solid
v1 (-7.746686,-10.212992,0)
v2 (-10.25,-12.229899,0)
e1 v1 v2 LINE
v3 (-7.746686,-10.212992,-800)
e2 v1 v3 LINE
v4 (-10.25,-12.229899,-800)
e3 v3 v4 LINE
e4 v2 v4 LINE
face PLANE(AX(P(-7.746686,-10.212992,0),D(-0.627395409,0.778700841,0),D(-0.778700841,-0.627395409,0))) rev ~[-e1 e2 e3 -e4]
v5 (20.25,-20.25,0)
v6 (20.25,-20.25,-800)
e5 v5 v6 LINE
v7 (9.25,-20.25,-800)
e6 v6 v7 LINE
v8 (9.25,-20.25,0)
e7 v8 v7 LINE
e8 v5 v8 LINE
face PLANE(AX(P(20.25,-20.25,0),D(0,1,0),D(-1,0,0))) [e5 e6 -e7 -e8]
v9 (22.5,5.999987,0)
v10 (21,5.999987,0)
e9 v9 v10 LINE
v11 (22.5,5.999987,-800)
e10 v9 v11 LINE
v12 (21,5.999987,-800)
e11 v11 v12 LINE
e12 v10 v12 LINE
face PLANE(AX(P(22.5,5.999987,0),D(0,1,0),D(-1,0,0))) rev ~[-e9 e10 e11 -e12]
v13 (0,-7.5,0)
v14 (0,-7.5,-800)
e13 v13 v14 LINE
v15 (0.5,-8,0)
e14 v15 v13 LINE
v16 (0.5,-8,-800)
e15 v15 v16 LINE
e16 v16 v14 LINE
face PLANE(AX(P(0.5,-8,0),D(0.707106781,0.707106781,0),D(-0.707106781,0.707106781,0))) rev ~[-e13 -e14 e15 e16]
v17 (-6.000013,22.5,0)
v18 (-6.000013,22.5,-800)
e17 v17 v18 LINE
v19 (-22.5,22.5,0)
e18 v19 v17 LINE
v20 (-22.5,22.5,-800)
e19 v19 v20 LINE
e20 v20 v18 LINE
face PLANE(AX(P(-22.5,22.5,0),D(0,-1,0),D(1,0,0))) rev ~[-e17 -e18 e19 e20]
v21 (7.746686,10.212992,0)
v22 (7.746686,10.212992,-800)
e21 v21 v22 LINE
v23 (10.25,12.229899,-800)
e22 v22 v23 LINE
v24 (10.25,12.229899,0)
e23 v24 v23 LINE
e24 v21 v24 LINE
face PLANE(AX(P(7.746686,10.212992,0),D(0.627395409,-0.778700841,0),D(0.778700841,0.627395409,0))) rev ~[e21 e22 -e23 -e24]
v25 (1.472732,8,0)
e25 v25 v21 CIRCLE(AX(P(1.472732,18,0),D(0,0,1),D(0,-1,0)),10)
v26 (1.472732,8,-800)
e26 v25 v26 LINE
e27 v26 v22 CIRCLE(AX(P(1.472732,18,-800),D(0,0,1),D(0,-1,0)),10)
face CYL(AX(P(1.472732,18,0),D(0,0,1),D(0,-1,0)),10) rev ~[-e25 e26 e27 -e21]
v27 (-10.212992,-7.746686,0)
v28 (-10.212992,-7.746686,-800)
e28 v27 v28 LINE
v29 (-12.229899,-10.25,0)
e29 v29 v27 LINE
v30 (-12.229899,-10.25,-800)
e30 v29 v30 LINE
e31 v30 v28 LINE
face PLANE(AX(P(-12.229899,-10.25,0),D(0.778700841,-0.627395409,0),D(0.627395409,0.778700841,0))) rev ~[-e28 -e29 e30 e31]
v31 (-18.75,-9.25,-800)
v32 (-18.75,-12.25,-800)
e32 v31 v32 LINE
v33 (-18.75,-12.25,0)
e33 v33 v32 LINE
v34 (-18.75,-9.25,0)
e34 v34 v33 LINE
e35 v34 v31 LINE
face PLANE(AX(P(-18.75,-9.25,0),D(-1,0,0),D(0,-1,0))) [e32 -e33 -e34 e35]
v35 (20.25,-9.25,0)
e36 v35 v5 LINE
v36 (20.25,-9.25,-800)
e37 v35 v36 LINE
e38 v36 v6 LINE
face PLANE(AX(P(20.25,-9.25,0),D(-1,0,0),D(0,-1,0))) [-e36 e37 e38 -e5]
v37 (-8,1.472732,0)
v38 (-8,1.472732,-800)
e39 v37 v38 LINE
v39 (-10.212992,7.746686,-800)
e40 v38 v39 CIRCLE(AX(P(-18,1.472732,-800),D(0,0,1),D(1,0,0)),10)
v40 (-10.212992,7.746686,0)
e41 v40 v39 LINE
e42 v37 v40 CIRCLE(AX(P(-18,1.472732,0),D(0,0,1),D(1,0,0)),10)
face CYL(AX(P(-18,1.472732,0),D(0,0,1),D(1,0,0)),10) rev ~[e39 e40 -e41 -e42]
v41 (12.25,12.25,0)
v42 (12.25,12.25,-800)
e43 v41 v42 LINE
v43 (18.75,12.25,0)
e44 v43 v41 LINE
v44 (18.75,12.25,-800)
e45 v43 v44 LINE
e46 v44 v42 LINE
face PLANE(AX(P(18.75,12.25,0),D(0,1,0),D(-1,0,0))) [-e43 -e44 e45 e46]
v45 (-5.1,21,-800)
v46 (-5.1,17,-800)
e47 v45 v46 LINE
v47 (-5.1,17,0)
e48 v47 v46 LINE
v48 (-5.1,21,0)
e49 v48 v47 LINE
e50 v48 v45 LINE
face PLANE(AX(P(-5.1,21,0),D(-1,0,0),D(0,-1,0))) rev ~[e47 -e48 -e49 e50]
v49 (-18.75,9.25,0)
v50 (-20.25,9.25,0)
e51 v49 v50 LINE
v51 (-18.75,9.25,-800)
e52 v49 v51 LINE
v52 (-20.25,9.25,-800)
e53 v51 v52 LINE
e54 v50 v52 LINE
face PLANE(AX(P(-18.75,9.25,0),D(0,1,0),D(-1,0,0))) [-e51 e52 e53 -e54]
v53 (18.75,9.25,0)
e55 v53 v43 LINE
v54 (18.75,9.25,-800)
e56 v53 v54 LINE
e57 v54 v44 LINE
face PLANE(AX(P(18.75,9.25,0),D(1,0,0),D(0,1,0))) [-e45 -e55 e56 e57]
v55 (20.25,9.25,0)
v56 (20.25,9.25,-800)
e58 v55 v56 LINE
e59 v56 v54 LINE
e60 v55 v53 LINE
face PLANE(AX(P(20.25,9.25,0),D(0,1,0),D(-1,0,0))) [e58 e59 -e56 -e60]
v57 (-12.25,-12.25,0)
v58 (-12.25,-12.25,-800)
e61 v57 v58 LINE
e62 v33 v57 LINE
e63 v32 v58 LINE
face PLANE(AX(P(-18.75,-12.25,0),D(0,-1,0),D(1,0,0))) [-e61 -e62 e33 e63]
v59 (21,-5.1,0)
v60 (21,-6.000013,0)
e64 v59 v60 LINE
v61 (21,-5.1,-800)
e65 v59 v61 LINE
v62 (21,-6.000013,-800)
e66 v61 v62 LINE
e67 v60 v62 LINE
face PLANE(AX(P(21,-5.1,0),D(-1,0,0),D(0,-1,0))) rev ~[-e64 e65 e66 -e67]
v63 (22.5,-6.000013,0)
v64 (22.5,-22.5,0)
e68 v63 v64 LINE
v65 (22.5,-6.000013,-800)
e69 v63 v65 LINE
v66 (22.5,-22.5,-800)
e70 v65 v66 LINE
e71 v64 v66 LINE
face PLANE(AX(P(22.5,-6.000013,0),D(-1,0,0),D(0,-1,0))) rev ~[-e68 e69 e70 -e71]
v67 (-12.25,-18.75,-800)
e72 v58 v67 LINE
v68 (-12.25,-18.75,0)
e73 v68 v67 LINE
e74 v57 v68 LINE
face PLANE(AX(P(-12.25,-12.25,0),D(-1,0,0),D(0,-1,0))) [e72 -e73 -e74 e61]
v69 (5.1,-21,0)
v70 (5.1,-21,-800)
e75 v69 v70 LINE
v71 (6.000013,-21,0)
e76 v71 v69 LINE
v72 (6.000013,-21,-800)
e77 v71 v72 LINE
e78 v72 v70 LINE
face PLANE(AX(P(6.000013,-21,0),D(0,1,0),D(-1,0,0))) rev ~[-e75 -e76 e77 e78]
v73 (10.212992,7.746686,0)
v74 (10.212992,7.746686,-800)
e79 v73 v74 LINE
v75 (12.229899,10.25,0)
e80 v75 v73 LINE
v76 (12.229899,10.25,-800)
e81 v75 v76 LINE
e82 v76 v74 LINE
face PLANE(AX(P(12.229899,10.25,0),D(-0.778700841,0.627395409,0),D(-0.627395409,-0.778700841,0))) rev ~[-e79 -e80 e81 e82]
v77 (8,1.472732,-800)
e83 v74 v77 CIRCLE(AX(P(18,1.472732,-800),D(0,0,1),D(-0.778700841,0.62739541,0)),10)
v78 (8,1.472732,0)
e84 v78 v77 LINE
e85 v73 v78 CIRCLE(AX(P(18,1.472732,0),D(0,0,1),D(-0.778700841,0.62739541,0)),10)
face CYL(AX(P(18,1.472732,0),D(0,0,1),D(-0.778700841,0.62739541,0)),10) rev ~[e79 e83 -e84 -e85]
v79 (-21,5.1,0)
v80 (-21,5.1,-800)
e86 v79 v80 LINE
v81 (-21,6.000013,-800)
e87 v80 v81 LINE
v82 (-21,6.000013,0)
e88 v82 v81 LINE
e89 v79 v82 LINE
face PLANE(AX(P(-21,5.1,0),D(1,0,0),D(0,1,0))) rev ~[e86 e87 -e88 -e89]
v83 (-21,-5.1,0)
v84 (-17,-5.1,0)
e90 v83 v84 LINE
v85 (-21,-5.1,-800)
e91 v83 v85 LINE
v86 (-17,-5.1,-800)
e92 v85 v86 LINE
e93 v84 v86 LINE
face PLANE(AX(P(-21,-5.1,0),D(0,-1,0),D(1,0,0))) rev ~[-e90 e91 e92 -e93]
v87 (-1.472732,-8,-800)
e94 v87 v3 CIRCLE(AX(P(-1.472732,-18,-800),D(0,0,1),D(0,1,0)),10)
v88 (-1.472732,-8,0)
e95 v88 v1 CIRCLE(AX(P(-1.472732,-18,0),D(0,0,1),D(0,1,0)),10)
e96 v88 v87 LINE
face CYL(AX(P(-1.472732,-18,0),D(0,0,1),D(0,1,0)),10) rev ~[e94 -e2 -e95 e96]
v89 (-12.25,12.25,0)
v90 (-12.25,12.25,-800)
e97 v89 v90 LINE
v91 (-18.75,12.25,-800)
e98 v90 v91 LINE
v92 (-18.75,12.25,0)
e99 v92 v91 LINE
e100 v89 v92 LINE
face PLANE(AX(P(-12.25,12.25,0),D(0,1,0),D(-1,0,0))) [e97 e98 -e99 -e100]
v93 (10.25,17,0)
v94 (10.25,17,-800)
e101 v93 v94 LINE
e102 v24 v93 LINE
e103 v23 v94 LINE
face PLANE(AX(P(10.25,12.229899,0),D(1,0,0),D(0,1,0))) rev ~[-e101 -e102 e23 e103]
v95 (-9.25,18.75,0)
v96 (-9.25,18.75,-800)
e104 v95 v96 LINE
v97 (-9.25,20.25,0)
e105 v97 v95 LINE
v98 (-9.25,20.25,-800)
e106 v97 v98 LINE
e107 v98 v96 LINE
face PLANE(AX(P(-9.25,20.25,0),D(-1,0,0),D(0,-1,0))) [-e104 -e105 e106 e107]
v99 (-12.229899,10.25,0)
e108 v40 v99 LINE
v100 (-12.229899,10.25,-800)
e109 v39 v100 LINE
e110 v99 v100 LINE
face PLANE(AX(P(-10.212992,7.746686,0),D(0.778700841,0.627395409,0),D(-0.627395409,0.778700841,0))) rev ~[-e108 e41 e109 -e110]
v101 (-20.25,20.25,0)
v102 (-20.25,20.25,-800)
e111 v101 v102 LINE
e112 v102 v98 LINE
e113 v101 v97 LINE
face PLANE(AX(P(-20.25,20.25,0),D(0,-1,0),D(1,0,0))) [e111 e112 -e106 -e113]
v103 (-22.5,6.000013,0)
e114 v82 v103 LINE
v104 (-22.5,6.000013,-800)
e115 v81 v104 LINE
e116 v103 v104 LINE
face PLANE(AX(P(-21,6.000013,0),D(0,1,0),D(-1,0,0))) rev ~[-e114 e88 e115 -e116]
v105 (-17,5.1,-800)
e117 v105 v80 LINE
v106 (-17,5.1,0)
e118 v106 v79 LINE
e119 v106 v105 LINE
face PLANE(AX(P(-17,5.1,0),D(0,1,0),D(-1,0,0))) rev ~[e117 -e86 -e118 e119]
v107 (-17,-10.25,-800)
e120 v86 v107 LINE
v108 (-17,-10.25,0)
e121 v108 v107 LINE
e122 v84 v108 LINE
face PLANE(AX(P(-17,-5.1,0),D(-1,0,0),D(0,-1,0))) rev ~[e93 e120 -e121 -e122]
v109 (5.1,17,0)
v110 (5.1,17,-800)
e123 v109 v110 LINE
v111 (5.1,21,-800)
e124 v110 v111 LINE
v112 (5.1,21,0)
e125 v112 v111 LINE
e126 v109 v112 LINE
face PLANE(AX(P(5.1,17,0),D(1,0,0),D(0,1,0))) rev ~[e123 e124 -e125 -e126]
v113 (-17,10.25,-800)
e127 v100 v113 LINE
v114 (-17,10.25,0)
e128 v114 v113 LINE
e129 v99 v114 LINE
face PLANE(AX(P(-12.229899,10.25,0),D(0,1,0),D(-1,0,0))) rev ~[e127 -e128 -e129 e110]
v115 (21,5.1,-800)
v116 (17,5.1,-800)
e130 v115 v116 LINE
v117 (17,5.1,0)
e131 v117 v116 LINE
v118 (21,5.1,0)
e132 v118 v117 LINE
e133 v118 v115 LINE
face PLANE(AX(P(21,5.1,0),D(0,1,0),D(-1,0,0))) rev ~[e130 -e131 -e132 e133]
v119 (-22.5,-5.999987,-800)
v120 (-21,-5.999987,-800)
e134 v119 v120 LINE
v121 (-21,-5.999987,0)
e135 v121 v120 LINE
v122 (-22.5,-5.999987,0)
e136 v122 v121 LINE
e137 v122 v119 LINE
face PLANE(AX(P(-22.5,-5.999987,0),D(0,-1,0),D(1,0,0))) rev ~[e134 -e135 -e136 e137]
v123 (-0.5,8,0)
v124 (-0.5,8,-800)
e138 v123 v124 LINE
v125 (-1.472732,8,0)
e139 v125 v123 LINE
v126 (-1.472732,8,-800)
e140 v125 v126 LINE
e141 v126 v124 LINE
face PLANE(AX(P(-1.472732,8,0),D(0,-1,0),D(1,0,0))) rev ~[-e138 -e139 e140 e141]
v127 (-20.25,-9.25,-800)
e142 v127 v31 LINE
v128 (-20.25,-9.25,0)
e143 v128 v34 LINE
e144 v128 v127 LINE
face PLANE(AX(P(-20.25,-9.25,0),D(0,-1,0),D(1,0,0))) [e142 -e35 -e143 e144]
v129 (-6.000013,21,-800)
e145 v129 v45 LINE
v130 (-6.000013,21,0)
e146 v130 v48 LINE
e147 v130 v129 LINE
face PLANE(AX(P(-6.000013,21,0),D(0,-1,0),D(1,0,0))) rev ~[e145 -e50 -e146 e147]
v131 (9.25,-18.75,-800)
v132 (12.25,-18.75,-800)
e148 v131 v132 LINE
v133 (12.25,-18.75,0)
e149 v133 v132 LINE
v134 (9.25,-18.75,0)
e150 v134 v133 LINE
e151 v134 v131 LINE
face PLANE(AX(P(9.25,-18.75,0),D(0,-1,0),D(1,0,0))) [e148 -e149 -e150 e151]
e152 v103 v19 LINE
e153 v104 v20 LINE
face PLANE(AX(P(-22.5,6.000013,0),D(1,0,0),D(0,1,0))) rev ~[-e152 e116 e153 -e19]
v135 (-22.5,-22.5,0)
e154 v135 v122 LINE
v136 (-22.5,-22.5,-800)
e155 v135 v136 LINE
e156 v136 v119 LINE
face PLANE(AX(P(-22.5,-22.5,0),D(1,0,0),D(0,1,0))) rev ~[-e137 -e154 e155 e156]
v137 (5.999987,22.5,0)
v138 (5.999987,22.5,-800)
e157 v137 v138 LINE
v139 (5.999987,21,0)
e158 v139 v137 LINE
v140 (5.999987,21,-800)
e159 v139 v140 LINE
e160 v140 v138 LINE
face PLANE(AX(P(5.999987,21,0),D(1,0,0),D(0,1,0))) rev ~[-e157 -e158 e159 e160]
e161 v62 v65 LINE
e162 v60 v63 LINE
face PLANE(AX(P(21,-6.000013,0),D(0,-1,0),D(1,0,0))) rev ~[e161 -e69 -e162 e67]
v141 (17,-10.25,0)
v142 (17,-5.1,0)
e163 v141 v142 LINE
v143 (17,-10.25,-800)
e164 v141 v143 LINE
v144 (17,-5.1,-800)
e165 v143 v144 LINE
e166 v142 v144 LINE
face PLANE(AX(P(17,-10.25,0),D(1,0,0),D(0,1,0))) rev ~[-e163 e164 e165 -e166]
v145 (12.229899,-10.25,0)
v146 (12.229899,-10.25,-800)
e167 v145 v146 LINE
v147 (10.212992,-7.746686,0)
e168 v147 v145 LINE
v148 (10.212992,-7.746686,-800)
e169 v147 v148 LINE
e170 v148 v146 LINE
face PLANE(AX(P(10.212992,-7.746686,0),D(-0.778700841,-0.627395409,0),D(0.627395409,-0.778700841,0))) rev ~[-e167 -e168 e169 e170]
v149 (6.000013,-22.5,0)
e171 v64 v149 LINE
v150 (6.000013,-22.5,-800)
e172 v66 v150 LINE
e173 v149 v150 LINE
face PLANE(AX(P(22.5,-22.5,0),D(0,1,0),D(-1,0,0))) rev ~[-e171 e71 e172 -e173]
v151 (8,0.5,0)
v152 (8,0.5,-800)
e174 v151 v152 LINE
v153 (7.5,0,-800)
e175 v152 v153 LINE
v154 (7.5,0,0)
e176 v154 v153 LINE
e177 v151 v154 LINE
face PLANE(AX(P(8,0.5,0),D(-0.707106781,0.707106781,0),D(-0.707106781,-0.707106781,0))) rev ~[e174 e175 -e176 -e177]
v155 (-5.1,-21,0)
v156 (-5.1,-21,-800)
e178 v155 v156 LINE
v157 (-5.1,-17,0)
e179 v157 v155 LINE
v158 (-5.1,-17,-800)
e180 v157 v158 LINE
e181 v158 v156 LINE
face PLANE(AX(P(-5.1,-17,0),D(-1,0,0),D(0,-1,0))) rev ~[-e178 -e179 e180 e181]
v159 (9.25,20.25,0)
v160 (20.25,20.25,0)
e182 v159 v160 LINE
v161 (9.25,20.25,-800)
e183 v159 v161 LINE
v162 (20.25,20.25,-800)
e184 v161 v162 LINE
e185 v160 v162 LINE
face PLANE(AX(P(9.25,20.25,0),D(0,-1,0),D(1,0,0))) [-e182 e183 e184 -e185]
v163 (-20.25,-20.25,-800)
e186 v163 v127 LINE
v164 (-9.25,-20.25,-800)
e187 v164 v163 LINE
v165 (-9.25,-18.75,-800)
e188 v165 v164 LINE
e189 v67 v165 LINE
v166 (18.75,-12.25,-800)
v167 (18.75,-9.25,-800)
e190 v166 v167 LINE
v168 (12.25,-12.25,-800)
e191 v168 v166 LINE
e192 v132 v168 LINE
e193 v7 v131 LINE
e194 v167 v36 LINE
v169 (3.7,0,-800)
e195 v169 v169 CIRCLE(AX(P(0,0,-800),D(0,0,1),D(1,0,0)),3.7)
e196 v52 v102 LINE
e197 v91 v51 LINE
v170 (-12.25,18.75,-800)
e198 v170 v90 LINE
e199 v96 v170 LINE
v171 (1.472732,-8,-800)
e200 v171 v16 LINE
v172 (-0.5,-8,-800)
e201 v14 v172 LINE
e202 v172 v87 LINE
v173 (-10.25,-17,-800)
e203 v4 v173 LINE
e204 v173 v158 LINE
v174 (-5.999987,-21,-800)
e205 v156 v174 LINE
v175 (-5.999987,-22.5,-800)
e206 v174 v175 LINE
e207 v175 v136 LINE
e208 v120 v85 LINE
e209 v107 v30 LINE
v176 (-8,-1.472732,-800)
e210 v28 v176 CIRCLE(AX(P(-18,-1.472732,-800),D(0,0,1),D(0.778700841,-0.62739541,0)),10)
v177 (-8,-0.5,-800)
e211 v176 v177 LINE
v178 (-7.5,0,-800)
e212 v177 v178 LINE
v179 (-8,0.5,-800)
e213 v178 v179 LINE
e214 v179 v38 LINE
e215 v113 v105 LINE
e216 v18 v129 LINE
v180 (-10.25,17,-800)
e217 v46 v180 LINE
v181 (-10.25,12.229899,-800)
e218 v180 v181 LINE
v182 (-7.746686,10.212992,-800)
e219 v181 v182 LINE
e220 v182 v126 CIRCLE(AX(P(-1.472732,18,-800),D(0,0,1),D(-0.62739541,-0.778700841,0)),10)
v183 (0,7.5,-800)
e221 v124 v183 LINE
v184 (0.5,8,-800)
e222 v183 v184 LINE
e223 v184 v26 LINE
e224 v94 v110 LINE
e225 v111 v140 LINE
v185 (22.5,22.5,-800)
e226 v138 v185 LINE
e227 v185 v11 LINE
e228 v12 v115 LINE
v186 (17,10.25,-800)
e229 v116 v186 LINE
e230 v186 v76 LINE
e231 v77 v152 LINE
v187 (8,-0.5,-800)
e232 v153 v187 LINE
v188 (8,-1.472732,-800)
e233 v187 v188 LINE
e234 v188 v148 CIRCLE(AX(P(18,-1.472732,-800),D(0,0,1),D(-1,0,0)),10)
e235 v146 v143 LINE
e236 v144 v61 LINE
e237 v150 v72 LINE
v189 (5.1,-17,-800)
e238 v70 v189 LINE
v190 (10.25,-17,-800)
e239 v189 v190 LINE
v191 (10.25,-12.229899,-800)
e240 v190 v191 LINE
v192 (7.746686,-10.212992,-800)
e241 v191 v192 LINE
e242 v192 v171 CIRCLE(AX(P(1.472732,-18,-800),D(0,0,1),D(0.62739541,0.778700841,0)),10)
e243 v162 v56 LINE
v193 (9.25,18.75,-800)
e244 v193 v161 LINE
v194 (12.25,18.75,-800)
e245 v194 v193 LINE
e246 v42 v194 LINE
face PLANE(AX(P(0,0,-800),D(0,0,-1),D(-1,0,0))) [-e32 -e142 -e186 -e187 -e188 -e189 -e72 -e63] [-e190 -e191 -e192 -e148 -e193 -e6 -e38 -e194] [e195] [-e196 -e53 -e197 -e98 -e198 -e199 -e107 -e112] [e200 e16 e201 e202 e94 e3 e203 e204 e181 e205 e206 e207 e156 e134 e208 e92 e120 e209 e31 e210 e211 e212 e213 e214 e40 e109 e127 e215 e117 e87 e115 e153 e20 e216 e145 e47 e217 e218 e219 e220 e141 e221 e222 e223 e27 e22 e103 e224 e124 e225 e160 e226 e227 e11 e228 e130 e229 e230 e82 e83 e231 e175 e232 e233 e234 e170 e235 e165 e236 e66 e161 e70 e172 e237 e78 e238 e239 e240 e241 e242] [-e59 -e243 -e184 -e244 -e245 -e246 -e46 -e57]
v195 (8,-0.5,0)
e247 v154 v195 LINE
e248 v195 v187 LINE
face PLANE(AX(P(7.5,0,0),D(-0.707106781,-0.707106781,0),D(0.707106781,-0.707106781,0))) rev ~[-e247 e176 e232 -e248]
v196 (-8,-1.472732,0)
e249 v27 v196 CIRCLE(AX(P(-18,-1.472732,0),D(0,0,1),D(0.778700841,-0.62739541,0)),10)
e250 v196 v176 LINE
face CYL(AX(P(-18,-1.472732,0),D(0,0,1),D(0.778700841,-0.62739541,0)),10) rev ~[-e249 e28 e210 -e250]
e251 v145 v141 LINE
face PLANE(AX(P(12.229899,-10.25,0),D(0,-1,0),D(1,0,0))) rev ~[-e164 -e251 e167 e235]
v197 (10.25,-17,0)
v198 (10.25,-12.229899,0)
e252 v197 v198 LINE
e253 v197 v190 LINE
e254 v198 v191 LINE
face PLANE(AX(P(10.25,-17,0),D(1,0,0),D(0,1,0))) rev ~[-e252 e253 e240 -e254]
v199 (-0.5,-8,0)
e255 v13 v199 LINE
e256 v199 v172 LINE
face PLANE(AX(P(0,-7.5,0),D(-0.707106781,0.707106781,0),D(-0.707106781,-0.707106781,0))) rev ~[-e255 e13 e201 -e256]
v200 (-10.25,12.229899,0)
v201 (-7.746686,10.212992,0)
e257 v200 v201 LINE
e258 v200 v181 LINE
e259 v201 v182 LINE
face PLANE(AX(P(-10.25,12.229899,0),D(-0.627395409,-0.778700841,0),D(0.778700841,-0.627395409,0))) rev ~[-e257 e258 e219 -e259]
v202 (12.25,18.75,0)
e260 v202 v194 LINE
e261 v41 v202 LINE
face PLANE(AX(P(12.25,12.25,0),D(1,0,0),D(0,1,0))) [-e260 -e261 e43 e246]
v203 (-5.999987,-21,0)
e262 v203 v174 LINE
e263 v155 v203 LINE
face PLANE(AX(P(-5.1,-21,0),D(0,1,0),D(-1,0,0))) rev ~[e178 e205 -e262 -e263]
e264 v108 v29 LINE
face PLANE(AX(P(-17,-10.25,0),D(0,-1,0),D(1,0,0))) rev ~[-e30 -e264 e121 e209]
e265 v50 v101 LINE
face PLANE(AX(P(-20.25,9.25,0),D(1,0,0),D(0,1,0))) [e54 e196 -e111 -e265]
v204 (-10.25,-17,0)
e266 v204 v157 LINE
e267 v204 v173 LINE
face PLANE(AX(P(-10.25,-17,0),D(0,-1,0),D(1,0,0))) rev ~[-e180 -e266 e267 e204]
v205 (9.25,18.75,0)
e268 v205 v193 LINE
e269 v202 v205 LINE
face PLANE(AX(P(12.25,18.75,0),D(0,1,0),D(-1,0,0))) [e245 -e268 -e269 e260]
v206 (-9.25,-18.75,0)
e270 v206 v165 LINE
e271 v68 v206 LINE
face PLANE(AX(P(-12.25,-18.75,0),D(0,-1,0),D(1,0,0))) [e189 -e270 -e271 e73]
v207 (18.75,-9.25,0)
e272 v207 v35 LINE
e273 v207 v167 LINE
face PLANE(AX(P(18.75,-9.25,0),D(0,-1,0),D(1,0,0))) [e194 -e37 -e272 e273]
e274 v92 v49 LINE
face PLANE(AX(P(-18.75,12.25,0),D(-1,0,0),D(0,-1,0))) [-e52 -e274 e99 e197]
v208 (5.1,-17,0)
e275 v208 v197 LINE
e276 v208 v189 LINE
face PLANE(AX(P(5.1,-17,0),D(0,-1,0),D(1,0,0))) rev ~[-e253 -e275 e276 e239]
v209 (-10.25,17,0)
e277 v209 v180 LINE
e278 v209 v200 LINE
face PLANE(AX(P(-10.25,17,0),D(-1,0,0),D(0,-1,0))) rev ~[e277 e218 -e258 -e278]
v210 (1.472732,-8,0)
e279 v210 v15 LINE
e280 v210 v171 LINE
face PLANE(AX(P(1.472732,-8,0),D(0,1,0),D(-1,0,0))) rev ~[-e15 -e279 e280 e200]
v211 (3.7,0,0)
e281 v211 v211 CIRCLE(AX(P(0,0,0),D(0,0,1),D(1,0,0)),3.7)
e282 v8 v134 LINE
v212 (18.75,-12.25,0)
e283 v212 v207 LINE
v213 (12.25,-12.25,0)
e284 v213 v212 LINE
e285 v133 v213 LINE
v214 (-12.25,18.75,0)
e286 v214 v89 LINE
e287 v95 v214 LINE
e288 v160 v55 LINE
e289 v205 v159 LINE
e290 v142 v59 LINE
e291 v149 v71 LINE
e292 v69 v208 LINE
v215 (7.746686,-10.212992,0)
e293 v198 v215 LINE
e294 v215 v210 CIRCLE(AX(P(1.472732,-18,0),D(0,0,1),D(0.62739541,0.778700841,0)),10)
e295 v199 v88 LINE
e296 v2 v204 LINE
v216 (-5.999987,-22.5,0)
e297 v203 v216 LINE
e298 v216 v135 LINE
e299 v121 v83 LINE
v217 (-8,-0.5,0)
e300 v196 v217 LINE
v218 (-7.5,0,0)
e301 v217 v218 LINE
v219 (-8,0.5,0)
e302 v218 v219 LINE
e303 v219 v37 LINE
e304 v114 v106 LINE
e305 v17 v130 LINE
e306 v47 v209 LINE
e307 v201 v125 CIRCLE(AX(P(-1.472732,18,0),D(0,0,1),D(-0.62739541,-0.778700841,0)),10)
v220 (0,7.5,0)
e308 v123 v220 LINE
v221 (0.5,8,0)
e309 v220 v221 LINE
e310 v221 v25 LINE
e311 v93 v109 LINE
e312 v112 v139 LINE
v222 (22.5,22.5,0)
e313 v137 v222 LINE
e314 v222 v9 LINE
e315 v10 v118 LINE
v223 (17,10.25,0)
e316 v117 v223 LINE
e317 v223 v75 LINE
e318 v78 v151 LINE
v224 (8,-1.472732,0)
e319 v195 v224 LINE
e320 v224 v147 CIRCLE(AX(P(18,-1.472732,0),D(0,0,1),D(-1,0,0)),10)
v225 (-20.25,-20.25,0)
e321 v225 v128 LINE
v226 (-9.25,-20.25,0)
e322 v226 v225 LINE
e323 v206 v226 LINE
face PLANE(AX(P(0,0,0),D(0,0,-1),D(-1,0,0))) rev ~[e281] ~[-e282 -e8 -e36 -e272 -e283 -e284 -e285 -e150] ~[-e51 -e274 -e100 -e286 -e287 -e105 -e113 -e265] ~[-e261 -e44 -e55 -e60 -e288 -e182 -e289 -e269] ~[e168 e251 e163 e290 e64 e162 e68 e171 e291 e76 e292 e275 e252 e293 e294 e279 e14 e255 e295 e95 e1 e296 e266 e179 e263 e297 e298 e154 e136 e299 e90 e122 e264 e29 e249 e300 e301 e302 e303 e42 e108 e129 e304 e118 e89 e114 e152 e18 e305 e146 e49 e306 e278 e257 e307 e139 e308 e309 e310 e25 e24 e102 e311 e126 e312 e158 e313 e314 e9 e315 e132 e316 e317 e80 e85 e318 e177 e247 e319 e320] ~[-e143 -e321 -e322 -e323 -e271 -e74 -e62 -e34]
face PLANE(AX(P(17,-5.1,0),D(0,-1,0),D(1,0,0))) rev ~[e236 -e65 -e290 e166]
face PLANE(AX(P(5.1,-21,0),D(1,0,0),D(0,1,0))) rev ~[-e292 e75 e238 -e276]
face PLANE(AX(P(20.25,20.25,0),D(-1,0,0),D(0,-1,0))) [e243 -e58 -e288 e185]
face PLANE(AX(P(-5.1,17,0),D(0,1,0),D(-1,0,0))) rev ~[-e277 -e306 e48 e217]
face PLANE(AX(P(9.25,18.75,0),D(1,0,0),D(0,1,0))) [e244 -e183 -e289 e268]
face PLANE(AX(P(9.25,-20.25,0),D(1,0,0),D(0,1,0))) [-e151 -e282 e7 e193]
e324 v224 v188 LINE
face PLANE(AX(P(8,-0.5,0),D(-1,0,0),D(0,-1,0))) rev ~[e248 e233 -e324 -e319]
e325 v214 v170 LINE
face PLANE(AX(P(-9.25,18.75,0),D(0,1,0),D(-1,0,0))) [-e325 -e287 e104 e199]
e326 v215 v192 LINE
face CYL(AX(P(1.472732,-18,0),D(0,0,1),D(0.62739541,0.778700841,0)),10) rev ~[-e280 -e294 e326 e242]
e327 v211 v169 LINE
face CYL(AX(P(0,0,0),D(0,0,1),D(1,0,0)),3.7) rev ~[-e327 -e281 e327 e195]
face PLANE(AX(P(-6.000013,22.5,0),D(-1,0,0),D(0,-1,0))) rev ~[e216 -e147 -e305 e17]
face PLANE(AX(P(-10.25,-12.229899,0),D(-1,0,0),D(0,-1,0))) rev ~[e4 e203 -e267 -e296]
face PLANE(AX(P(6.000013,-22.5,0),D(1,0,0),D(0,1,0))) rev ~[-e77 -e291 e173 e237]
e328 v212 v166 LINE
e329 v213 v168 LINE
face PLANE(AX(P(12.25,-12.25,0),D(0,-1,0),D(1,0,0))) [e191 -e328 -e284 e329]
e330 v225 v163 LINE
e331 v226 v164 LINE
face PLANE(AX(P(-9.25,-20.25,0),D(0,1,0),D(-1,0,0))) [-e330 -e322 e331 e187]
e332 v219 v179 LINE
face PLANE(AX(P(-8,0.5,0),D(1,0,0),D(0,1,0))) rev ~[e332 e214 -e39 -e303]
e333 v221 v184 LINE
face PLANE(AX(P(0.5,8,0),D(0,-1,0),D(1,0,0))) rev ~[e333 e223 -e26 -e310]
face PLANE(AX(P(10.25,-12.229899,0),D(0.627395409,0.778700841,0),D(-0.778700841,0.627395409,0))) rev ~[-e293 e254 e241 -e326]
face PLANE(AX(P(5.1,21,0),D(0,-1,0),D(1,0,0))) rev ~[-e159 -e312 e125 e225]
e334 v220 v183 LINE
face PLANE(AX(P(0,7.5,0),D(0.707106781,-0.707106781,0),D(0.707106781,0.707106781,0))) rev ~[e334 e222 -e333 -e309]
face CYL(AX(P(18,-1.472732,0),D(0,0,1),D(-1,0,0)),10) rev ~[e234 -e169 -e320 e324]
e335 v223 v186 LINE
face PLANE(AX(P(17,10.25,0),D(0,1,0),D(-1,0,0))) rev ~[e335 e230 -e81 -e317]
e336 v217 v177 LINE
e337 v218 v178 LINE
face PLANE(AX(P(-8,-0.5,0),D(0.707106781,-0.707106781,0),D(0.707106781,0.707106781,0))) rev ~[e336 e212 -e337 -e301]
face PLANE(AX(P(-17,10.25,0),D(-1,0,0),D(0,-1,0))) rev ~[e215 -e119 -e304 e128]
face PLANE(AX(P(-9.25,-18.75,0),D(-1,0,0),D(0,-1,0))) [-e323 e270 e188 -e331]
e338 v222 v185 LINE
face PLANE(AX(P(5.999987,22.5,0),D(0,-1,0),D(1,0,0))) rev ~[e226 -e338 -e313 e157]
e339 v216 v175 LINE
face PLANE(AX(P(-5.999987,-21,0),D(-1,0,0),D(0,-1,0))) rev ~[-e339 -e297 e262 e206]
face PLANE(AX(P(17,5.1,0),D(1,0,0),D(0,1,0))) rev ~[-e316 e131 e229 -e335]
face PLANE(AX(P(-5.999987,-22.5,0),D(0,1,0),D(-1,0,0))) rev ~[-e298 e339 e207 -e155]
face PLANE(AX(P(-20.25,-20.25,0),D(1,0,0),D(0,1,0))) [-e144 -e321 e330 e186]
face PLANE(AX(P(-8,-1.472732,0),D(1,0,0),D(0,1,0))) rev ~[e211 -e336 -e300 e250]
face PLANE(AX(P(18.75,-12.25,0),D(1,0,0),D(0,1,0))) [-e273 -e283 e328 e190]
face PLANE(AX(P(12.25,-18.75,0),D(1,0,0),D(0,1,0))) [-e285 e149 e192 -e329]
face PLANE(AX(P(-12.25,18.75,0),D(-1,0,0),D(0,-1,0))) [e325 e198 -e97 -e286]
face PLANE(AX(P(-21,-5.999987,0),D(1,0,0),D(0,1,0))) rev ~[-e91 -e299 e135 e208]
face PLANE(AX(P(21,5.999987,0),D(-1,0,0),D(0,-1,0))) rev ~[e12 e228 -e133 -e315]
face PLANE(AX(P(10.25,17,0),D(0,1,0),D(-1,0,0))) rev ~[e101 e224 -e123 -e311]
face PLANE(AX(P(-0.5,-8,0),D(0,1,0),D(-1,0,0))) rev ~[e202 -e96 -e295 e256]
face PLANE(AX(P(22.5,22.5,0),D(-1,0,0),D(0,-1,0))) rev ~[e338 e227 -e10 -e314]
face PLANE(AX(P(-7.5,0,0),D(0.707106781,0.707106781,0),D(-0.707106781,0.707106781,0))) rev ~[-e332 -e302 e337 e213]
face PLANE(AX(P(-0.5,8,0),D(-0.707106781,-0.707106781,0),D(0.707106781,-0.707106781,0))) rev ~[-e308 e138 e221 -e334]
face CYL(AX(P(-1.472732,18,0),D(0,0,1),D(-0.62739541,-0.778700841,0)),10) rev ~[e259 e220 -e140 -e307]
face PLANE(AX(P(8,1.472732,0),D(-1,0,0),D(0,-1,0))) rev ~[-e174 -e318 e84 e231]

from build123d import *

# Parameters (mm, degrees)
MODEL_R             = 3.7
BOSS_EXTRUDE1_DEPTH = 800


with BuildPart() as part:
    # Model → Boss-Extrude1 (new body)
    with BuildSketch(Plane.XY):
        with BuildLine():
            Line((0.5, 8), (1.472732261, 8))
            ThreePointArc((1.472732261, 8), (4.799135414, 8.56946226), (7.746686356, 10.212991588))
            Line((7.746686356, 10.212991588), (10.25, 12.229898987))
            Line((10.25, 12.229898987), (10.25, 17))
            Line((10.25, 17), (5.1, 17))
            Line((5.1, 17), (5.1, 21))
            Line((5.1, 21), (5.999986755, 21))
            Line((5.999986755, 21), (5.999986755, 22.5))
            Line((5.999986755, 22.5), (22.5, 22.5))
            Line((22.5, 22.5), (22.5, 5.999986755))
            Line((22.5, 5.999986755), (21, 5.999986755))
            Line((21, 5.999986755), (21, 5.1))
            Line((21, 5.1), (17, 5.1))
            Line((17, 5.1), (17, 10.25))
            Line((17, 10.25), (12.229898987, 10.25))
            Line((12.229898987, 10.25), (10.212991588, 7.746686356))
            ThreePointArc((10.212991588, 7.746686356), (8.56946226, 4.799135414), (8, 1.472732261))
            Line((8, 1.472732261), (8, 0.5))
            Line((8, 0.5), (7.5, 0))
            Line((7.5, 0), (8, -0.5))
            Line((8, -0.5), (8, -1.472732261))
            ThreePointArc((8, -1.472732261), (8.56946226, -4.799135414), (10.212991588, -7.746686356))
            Line((10.212991588, -7.746686356), (12.229898987, -10.25))
            Line((12.229898987, -10.25), (17, -10.25))
            Line((17, -10.25), (17, -5.1))
            Line((17, -5.1), (21, -5.1))
            Line((21, -5.1), (21, -6.000013245))
            Line((21, -6.000013245), (22.5, -6.000013245))
            Line((22.5, -6.000013245), (22.5, -22.5))
            Line((22.5, -22.5), (6.000013245, -22.5))
            Line((6.000013245, -22.5), (6.000013245, -21))
            Line((6.000013245, -21), (5.1, -21))
            Line((5.1, -21), (5.1, -17))
            Line((5.1, -17), (10.25, -17))
            Line((10.25, -17), (10.25, -12.229898987))
            Line((10.25, -12.229898987), (7.746686356, -10.212991588))
            ThreePointArc((7.746686356, -10.212991588), (4.799135414, -8.56946226), (1.472732261, -8))
            Line((1.472732261, -8), (0.5, -8))
            Line((0.5, -8), (0, -7.5))
            Line((0, -7.5), (-0.5, -8))
            Line((-0.5, -8), (-1.472732261, -8))
            ThreePointArc((-1.472732261, -8), (-4.799135414, -8.56946226), (-7.746686356, -10.212991588))
            Line((-7.746686356, -10.212991588), (-10.25, -12.229898987))
            Line((-10.25, -12.229898987), (-10.25, -17))
            Line((-10.25, -17), (-5.1, -17))
            Line((-5.1, -17), (-5.1, -21))
            Line((-5.1, -21), (-5.999986755, -21))
            Line((-5.999986755, -21), (-5.999986755, -22.5))
            Line((-5.999986755, -22.5), (-22.5, -22.5))
            Line((-22.5, -22.5), (-22.5, -5.999986755))
            Line((-22.5, -5.999986755), (-21, -5.999986755))
            Line((-21, -5.999986755), (-21, -5.1))
            Line((-21, -5.1), (-17, -5.1))
            Line((-17, -5.1), (-17, -10.25))
            Line((-17, -10.25), (-12.229898987, -10.25))
            Line((-12.229898987, -10.25), (-10.212991588, -7.746686356))
            ThreePointArc((-10.212991588, -7.746686356), (-8.56946226, -4.799135414), (-8, -1.472732261))
            Line((-8, -1.472732261), (-8, -0.5))
            Line((-8, -0.5), (-7.5, 0))
            Line((-7.5, 0), (-8, 0.5))
            Line((-8, 0.5), (-8, 1.472732261))
            ThreePointArc((-8, 1.472732261), (-8.56946226, 4.799135414), (-10.212991588, 7.746686356))
            Line((-10.212991588, 7.746686356), (-12.229898987, 10.25))
            Line((-12.229898987, 10.25), (-17, 10.25))
            Line((-17, 10.25), (-17, 5.1))
            Line((-17, 5.1), (-21, 5.1))
            Line((-21, 5.1), (-21, 6.000013245))
            Line((-21, 6.000013245), (-22.5, 6.000013245))
            Line((-22.5, 6.000013245), (-22.5, 22.5))
            Line((-22.5, 22.5), (-6.000013245, 22.5))
            Line((-6.000013245, 22.5), (-6.000013245, 21))
            Line((-6.000013245, 21), (-5.1, 21))
            Line((-5.1, 21), (-5.1, 17))
            Line((-5.1, 17), (-10.25, 17))
            Line((-10.25, 17), (-10.25, 12.229898987))
            Line((-10.25, 12.229898987), (-7.746686356, 10.212991588))
            ThreePointArc((-7.746686356, 10.212991588), (-4.799135414, 8.56946226), (-1.472732261, 8))
            Line((-1.472732261, 8), (-0.5, 8))
            Line((-0.5, 8), (0, 7.5))
            Line((0, 7.5), (0.5, 8))
        make_face()
        Circle(MODEL_R, mode=Mode.SUBTRACT)
        Polygon((20.25, -9.25), (20.25, -20.25), (9.25, -20.25), (9.25, -18.75), (12.25, -18.75), (12.25, -12.25), (18.75, -12.25), (18.75, -9.25), align=None, mode=Mode.SUBTRACT)
        Polygon((9.25, 20.25), (20.25, 20.25), (20.25, 9.25), (18.75, 9.25), (18.75, 12.25), (12.25, 12.25), (12.25, 18.75), (9.25, 18.75), align=None, mode=Mode.SUBTRACT)
        Polygon((-9.25, -20.25), (-20.25, -20.25), (-20.25, -9.25), (-18.75, -9.25), (-18.75, -12.25), (-12.25, -12.25), (-12.25, -18.75), (-9.25, -18.75), align=None, mode=Mode.SUBTRACT)
        Polygon((-20.25, 20.25), (-9.25, 20.25), (-9.25, 18.75), (-12.25, 18.75), (-12.25, 12.25), (-18.75, 12.25), (-18.75, 9.25), (-20.25, 9.25), align=None, mode=Mode.SUBTRACT)
    extrude(amount=-BOSS_EXTRUDE1_DEPTH)


solid = part.part
